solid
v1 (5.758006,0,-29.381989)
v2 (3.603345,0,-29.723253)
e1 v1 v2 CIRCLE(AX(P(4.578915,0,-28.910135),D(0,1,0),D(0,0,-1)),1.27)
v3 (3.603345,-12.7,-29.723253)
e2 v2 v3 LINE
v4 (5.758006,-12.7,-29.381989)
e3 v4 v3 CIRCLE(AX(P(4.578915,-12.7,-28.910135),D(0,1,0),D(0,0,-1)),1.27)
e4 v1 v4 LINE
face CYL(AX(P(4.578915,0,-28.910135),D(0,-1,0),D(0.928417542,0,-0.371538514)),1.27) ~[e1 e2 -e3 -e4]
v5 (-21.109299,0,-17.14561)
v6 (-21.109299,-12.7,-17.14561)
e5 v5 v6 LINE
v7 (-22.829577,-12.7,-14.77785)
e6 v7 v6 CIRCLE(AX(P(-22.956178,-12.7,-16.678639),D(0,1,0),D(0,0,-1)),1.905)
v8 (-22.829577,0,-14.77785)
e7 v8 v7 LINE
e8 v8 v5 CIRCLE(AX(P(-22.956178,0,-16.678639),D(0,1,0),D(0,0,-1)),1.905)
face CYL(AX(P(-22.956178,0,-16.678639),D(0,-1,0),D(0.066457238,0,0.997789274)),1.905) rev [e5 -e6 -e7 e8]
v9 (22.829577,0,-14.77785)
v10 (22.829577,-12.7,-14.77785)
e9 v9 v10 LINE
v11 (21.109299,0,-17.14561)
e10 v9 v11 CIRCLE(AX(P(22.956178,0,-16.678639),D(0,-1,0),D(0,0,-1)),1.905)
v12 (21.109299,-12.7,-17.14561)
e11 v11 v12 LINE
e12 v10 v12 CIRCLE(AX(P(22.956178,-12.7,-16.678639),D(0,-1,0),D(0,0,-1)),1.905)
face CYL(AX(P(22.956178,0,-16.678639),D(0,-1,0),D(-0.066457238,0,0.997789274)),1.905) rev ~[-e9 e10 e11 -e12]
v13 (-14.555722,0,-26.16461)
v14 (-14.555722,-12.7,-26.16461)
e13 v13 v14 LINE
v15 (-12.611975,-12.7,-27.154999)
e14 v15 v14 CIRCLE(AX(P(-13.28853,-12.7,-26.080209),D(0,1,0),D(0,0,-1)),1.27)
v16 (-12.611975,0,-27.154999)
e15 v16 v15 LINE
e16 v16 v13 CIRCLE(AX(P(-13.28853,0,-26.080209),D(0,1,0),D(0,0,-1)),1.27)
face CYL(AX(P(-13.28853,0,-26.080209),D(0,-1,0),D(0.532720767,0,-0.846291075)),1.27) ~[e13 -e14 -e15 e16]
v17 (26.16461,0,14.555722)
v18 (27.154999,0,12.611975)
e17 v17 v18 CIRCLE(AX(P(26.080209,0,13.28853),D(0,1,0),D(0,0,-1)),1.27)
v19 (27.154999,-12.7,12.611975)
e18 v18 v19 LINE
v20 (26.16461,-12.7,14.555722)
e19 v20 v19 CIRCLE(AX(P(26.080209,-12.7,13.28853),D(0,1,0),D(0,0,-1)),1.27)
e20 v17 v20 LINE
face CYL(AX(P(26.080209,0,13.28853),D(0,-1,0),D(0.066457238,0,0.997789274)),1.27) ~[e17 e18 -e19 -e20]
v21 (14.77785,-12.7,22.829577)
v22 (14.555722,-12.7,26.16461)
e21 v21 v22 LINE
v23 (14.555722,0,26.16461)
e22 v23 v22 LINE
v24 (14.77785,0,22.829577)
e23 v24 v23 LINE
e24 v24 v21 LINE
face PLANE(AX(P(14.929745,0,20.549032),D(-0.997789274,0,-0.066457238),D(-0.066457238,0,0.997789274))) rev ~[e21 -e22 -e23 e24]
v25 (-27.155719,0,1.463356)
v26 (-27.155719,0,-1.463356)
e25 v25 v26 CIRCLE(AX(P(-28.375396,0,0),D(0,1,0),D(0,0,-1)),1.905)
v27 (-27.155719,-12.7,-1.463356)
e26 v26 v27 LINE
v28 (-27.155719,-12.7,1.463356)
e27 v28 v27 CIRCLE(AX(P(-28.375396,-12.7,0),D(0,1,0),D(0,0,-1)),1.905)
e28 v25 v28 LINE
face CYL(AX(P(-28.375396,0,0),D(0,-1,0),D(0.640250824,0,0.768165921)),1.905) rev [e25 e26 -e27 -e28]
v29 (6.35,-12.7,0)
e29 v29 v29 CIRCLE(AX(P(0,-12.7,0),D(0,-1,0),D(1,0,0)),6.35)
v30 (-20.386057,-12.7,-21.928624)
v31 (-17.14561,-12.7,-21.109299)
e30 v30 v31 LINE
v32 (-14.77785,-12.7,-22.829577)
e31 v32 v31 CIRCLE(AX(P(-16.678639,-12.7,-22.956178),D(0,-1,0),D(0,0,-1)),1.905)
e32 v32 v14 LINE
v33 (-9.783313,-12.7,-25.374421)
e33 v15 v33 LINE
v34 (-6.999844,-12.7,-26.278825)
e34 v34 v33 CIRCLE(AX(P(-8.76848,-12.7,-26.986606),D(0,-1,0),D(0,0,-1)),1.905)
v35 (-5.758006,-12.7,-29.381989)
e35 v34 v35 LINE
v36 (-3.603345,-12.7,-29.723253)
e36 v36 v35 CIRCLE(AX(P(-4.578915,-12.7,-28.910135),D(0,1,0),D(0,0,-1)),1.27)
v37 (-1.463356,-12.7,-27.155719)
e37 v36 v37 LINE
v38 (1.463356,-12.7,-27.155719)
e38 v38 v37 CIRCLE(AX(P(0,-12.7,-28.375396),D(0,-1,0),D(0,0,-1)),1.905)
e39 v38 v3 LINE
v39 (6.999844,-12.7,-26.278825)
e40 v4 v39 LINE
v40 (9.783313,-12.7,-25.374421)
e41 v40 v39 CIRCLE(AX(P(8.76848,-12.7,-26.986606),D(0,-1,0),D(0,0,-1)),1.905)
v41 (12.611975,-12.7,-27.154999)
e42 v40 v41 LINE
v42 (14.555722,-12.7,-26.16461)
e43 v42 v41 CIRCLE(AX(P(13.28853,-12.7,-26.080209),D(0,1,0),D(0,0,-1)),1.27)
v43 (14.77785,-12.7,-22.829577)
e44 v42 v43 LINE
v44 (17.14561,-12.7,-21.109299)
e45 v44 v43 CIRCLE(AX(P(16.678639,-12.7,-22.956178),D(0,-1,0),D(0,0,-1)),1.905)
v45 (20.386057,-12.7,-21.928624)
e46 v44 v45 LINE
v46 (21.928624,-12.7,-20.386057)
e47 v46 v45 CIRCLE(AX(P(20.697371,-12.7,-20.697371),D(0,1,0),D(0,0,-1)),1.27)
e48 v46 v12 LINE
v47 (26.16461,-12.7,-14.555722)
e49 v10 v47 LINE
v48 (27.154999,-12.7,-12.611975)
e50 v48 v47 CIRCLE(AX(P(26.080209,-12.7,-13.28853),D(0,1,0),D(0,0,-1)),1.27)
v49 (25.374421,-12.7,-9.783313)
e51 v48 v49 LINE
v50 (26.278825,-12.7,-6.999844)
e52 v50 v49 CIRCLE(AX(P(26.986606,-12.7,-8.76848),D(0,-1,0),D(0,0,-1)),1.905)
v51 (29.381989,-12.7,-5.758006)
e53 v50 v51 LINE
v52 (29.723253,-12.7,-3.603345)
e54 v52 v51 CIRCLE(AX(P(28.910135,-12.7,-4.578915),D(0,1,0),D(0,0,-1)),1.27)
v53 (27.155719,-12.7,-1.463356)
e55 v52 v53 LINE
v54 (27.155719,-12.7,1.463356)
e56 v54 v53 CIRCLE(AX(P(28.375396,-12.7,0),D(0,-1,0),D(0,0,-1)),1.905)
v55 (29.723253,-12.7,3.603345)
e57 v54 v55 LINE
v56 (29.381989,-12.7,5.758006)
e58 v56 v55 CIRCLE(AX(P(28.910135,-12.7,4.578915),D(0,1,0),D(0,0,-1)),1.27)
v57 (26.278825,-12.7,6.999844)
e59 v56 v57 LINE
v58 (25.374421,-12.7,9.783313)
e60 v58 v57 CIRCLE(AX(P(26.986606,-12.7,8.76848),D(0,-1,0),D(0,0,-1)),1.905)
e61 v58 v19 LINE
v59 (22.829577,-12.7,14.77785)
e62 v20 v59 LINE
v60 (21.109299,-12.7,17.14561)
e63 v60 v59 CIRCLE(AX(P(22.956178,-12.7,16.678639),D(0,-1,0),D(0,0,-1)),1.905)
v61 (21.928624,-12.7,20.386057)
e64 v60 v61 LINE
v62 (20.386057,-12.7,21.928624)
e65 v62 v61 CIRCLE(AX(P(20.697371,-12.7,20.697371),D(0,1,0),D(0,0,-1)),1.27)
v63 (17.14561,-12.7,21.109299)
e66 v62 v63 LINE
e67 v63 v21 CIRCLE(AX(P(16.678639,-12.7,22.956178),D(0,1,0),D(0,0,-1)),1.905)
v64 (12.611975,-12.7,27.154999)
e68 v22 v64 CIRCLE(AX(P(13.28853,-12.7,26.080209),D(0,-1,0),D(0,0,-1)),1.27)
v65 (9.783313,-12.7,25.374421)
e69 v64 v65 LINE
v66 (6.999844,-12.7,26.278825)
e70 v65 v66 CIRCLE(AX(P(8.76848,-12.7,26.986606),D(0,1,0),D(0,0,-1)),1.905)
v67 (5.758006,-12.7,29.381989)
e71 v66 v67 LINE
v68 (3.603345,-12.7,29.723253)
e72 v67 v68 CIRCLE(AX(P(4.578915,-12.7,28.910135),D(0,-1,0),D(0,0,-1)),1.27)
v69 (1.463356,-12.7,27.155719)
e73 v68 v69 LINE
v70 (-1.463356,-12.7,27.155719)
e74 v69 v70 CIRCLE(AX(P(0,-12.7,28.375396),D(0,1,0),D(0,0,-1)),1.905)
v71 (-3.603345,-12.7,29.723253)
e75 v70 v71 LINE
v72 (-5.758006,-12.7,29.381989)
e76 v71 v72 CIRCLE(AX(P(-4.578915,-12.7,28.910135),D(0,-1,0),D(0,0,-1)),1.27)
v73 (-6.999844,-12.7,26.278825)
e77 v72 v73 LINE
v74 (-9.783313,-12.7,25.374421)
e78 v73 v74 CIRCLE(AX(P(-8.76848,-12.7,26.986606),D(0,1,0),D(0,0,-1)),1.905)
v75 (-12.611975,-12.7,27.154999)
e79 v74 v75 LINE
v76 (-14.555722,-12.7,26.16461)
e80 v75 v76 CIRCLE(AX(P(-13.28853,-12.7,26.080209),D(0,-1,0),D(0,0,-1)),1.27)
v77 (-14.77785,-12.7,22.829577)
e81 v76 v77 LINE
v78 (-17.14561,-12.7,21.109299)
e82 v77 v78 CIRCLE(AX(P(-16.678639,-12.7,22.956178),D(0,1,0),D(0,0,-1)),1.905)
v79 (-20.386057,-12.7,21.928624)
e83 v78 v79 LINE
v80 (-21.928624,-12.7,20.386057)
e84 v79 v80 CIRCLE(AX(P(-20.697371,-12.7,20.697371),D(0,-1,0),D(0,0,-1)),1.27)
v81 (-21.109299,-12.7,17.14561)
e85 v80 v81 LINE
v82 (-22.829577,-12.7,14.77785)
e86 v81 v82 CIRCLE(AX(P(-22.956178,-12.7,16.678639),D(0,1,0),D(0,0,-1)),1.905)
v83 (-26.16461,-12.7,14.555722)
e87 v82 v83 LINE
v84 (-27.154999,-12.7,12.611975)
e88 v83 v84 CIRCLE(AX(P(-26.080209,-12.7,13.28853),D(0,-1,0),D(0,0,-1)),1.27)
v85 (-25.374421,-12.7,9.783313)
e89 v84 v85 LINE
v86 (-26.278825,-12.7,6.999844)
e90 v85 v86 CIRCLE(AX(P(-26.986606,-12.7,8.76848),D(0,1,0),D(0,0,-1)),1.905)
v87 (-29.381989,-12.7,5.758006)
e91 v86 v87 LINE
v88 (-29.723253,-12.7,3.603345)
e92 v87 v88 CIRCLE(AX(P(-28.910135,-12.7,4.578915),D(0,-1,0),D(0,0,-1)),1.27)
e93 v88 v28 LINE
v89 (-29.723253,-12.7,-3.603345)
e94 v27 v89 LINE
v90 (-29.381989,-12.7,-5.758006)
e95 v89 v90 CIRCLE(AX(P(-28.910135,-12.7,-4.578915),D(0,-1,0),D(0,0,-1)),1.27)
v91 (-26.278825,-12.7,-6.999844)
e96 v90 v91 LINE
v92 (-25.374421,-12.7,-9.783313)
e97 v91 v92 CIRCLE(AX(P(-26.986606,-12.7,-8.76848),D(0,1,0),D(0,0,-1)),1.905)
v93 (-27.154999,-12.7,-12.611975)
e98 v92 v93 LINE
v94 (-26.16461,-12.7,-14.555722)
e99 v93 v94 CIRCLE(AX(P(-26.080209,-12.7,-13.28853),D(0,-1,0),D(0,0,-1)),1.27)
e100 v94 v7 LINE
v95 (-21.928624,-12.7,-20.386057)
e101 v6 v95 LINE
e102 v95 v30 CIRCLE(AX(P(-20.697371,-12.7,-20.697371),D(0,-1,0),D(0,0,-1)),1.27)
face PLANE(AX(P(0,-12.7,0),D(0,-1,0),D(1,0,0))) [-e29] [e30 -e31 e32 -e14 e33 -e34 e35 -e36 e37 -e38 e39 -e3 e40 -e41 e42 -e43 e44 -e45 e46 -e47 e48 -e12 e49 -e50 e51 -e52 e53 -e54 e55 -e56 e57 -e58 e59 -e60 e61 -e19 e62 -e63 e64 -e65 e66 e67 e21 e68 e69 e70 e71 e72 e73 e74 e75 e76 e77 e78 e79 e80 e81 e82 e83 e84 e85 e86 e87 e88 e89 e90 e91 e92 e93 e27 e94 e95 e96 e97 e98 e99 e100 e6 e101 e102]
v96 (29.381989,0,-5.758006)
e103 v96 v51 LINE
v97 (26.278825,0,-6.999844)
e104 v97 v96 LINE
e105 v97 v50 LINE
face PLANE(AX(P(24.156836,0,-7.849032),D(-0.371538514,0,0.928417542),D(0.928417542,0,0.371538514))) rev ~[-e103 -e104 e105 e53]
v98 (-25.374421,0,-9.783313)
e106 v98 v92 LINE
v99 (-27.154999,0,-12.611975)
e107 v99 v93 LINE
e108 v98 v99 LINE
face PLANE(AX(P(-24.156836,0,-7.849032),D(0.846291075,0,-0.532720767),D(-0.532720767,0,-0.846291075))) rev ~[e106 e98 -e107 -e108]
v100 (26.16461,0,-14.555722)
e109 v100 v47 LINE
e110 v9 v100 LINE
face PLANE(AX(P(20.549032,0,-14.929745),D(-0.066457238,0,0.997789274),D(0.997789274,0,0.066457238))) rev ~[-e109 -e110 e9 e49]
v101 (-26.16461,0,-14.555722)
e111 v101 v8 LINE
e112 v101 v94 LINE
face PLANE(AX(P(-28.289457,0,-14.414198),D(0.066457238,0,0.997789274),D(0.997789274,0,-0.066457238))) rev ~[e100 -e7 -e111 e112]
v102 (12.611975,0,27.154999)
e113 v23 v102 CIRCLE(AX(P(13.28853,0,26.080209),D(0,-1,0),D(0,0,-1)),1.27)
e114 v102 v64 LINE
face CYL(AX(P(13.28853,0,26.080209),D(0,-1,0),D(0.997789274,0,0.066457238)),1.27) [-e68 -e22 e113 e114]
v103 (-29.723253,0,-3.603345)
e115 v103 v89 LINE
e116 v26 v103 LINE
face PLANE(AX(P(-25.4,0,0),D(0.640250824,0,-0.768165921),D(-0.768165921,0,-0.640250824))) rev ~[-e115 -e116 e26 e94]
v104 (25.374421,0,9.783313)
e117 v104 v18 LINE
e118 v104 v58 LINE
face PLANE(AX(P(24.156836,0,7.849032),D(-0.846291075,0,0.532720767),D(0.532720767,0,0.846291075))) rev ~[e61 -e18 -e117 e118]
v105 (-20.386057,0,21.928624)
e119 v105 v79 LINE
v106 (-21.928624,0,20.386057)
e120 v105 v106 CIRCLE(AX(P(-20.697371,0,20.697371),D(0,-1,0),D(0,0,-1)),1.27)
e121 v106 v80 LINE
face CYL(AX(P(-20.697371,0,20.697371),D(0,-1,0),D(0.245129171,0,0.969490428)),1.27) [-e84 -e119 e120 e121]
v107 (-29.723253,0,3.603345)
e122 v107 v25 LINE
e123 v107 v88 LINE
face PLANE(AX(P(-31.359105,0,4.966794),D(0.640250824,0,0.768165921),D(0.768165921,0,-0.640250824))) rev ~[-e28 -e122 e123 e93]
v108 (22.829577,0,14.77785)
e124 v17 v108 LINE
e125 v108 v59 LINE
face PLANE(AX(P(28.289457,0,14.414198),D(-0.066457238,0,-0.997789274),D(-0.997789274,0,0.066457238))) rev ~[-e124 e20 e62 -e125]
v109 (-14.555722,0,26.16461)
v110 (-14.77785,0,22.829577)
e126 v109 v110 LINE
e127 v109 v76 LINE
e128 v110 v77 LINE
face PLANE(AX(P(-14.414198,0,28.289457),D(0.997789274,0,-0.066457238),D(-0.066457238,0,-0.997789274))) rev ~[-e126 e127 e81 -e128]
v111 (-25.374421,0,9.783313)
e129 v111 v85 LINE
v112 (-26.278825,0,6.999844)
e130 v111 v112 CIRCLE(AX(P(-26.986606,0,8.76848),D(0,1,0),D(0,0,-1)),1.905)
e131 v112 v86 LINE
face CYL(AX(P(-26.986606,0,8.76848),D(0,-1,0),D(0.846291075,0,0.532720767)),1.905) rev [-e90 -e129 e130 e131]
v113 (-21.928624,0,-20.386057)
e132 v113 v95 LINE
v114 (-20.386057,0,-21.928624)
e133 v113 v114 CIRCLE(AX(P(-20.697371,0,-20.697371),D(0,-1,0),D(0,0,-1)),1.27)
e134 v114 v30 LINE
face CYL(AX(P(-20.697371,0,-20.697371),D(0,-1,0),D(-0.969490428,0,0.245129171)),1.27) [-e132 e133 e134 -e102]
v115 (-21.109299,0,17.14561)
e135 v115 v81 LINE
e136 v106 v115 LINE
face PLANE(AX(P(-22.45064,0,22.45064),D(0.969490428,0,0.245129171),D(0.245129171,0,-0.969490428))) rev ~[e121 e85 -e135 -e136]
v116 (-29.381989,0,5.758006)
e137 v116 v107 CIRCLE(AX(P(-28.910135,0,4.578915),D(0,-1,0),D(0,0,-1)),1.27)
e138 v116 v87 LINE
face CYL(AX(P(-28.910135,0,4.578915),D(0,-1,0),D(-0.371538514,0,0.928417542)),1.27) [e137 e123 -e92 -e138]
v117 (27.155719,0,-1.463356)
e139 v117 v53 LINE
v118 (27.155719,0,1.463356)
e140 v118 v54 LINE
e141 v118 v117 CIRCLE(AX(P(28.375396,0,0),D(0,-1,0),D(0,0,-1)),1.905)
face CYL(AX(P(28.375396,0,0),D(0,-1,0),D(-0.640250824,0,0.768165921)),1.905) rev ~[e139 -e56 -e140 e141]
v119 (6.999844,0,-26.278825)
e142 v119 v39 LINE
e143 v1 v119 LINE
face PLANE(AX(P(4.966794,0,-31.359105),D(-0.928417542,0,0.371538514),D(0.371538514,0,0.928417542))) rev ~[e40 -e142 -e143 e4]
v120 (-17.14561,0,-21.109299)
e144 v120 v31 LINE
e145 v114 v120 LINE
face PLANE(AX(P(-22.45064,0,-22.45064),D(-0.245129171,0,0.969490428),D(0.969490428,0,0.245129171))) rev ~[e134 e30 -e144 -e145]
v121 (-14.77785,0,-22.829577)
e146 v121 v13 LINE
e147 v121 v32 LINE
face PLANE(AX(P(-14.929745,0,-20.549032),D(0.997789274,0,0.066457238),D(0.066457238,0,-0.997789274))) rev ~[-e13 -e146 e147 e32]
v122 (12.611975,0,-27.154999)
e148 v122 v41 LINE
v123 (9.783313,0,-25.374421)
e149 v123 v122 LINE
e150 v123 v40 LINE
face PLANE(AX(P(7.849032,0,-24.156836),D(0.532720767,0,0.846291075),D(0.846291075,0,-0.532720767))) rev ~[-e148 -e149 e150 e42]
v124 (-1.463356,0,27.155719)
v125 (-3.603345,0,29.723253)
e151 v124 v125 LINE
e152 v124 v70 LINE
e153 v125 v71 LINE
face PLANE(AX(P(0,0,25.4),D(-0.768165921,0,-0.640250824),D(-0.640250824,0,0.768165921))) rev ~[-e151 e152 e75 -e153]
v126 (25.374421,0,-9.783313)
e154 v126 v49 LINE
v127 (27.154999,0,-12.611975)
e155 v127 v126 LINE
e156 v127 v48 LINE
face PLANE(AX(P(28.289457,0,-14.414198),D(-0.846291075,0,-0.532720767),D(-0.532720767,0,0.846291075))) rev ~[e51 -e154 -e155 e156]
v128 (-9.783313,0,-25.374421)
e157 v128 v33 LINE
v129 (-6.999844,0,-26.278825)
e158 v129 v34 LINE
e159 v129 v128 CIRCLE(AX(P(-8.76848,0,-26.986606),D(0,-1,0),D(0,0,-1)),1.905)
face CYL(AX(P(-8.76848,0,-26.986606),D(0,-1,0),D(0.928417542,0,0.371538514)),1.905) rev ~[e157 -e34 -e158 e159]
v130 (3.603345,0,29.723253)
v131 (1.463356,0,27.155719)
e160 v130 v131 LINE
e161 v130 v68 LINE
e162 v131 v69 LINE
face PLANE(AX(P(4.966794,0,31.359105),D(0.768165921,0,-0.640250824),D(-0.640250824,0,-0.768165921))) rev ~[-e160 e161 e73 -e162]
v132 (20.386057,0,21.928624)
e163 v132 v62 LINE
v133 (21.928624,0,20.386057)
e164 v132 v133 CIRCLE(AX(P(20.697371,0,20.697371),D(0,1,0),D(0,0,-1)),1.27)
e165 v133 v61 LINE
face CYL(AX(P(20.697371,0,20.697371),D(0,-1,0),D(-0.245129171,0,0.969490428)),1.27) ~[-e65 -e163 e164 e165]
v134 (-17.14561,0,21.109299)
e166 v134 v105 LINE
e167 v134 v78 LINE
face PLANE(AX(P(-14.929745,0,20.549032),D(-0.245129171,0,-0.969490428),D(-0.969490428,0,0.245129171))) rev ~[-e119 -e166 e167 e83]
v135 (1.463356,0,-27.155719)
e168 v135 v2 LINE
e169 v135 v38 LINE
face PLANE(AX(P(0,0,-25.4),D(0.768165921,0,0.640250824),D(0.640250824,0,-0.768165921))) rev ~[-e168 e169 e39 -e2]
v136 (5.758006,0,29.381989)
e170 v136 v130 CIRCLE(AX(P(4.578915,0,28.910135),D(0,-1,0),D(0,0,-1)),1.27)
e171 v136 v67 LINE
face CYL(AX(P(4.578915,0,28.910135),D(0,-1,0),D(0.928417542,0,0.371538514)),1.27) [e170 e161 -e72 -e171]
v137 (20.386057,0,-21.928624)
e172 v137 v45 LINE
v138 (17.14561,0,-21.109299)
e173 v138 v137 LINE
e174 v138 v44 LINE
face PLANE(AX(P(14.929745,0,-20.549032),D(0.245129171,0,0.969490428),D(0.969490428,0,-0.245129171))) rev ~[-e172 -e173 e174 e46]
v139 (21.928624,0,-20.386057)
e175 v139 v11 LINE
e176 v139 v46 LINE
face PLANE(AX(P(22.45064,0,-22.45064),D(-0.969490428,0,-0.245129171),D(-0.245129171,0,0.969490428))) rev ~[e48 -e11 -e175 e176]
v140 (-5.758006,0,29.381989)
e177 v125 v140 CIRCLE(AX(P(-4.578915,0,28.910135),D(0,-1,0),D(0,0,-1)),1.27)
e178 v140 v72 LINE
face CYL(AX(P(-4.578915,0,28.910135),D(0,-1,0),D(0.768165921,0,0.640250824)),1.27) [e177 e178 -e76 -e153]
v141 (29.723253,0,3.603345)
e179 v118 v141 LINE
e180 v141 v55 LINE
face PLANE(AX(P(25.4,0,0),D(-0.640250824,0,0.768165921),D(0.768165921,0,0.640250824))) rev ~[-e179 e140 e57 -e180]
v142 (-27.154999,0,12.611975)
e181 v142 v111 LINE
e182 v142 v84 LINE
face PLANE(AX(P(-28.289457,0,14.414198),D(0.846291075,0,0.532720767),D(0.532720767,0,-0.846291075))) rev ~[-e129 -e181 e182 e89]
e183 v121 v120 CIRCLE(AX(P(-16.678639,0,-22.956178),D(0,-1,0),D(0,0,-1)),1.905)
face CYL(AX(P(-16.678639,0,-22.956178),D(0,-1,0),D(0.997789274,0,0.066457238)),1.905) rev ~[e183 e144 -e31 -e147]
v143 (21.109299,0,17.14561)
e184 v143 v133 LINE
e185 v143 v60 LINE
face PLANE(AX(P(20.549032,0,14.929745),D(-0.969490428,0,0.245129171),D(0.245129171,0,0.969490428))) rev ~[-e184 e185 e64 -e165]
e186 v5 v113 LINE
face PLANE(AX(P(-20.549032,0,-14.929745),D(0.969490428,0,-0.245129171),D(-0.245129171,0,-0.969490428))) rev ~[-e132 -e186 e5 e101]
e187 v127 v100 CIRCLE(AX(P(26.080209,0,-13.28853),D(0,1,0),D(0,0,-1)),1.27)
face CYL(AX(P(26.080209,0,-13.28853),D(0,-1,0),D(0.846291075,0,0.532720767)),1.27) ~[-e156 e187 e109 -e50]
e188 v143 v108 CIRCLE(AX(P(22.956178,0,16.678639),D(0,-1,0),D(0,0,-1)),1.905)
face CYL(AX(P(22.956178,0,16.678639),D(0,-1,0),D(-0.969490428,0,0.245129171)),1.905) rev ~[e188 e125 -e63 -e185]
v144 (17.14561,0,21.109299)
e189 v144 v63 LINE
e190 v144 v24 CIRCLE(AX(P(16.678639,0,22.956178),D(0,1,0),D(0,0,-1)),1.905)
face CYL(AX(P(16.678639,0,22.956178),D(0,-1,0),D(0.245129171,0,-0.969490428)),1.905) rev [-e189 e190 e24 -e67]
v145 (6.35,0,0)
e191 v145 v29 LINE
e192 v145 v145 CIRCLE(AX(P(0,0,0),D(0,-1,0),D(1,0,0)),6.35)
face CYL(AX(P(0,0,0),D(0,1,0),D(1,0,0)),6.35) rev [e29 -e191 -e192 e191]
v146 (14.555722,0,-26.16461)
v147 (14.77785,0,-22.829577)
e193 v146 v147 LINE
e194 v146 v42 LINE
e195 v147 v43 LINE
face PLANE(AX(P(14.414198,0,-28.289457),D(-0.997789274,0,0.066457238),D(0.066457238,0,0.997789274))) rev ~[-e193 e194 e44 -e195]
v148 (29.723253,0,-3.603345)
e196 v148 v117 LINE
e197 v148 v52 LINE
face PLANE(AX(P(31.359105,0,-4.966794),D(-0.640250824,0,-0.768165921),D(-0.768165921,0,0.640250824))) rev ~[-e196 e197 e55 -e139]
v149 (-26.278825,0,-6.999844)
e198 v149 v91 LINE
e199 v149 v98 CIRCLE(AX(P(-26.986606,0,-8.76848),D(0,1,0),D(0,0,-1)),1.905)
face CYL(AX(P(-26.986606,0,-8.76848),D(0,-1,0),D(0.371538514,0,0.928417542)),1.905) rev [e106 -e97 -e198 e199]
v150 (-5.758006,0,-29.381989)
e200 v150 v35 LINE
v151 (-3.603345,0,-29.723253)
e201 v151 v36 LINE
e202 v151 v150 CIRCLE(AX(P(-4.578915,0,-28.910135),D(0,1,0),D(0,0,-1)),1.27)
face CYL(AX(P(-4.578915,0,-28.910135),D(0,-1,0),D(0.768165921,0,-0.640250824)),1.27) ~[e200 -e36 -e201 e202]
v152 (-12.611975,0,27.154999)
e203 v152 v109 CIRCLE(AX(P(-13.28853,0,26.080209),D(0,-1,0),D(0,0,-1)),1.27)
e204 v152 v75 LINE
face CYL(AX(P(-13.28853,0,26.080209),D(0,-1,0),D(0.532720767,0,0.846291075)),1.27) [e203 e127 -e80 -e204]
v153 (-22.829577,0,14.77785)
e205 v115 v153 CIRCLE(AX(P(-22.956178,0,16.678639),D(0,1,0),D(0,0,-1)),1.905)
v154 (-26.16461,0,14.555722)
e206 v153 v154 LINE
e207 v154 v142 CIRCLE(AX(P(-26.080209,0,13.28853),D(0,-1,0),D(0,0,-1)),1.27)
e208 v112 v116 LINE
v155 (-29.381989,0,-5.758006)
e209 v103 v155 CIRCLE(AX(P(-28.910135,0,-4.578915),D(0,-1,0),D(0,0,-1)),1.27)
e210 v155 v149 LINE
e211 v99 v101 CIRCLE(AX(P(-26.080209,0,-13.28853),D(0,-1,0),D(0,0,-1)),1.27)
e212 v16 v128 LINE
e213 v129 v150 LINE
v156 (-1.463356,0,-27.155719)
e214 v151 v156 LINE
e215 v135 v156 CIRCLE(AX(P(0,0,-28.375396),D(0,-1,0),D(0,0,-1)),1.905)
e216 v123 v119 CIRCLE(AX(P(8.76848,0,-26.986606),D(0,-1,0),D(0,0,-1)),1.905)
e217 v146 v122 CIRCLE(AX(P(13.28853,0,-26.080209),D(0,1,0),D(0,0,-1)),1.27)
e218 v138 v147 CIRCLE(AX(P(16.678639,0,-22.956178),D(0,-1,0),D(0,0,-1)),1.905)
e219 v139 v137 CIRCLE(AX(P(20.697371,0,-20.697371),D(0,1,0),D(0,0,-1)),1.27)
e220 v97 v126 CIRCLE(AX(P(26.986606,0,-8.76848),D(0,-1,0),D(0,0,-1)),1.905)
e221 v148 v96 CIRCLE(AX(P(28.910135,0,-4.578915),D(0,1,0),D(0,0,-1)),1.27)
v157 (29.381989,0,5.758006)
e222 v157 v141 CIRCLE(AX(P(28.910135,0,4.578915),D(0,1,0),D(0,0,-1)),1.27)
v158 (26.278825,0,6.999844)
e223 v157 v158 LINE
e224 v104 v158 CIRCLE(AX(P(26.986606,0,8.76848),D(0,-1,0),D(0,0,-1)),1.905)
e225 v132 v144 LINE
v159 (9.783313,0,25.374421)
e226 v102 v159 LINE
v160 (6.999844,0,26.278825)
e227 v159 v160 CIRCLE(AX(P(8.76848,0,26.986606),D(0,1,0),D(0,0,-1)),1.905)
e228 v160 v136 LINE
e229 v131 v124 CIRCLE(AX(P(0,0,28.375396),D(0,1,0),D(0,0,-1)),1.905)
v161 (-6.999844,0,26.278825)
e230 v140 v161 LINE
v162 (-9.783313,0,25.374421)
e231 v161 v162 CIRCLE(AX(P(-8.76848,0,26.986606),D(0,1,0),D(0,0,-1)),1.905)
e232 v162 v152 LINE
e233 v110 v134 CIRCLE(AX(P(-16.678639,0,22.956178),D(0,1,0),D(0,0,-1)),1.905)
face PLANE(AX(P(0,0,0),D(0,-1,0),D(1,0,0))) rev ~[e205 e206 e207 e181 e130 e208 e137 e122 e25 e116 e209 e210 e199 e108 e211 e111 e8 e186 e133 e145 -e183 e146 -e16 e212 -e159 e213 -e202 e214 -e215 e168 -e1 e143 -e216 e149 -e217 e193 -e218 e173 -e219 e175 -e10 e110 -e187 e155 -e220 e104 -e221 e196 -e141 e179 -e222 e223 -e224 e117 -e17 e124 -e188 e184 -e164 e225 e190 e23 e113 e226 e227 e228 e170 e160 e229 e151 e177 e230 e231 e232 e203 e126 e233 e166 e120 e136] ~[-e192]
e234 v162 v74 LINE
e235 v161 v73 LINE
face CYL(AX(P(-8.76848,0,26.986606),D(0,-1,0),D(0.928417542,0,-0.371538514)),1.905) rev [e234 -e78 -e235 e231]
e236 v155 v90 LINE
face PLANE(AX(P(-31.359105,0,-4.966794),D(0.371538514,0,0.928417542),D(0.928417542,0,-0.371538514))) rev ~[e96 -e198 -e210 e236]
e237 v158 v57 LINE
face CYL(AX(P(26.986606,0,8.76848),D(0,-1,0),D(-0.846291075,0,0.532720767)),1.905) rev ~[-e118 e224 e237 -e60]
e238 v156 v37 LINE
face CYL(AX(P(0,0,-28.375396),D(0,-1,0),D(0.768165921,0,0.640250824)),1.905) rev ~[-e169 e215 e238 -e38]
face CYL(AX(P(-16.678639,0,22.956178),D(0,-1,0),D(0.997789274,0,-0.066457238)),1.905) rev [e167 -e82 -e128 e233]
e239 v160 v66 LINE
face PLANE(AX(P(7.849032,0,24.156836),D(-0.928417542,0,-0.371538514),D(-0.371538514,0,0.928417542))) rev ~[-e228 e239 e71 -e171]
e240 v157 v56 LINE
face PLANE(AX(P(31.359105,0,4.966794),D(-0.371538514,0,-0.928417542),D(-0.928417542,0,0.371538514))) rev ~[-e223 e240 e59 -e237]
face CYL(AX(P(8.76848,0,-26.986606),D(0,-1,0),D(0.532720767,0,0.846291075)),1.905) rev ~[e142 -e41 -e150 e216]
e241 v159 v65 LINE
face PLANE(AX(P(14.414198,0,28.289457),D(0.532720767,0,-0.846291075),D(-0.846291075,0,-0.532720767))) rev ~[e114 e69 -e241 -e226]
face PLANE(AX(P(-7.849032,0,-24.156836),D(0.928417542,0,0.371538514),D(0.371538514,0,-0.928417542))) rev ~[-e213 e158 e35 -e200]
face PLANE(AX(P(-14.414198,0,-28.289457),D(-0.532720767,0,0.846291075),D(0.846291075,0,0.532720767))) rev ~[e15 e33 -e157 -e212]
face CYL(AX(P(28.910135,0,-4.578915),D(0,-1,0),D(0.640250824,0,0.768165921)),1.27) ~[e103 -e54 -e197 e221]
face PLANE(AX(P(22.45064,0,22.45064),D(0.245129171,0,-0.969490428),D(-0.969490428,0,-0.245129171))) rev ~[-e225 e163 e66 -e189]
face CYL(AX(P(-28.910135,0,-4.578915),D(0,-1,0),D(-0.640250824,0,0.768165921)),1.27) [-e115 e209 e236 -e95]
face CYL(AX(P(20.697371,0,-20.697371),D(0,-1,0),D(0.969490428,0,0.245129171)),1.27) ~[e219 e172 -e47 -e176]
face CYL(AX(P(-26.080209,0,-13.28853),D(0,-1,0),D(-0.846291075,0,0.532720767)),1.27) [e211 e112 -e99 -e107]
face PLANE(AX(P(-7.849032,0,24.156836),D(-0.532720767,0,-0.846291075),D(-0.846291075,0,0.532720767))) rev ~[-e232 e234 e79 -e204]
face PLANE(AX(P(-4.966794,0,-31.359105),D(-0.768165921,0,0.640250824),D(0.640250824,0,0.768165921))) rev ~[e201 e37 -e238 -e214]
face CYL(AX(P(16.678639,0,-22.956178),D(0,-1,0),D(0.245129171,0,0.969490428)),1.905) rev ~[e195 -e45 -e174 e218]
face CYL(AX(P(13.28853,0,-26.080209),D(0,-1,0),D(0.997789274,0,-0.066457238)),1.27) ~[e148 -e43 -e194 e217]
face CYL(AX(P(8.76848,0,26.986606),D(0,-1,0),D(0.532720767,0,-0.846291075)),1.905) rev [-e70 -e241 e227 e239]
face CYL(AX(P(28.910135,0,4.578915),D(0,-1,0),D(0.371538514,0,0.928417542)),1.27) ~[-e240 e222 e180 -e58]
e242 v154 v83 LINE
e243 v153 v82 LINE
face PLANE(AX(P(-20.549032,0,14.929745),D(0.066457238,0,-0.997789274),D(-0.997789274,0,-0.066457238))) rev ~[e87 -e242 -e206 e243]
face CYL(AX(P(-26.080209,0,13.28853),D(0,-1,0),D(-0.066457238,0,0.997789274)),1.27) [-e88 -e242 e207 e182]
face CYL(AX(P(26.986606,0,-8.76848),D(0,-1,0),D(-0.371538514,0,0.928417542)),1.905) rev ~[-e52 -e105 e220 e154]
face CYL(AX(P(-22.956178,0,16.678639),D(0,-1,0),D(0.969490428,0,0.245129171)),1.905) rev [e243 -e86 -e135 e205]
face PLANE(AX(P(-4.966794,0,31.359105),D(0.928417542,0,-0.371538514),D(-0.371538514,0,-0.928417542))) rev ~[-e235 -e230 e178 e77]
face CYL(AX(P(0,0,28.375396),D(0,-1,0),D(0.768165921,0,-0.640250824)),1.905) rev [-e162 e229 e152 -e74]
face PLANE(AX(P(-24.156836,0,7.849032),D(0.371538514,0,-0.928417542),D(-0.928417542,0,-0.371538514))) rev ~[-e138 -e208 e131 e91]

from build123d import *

# Parameters (mm, degrees)
F0_R     = 6.35
F1_DEPTH = 12.7
F2_R     = 1.905
F3_R     = 1.27


with BuildPart() as f1:
    # F0 (on Front) → F1 (new body)
    with BuildSketch(Plane.XZ):
        Polygon((22.45064, 22.45064), (14.929745, 20.549032), (14.414198, 28.289457), (7.849032, 24.156836), (4.966794, 31.359105), (0, 25.4), (-4.966794, 31.359105), (-7.849032, 24.156836), (-14.414198, 28.289457), (-14.929745, 20.549032), (-22.45064, 22.45064), (-20.549032, 14.929745), (-28.289457, 14.414198), (-24.156836, 7.849032), (-31.359105, 4.966794), (-25.4, 0), (-31.359105, -4.966794), (-24.156836, -7.849032), (-28.289457, -14.414198), (-20.549032, -14.929745), (-22.45064, -22.45064), (-14.929745, -20.549032), (-14.414198, -28.289457), (-7.849032, -24.156836), (-4.966794, -31.359105), (0, -25.4), (4.966794, -31.359105), (7.849032, -24.156836), (14.414198, -28.289457), (14.929745, -20.549032), (22.45064, -22.45064), (20.549032, -14.929745), (28.289457, -14.414198), (24.156836, -7.849032), (31.359105, -4.966794), (25.4, 0), (31.359105, 4.966794), (24.156836, 7.849032), (28.289457, 14.414198), (20.549032, 14.929745), align=None)
        Circle(F0_R, mode=Mode.SUBTRACT)
    extrude(amount=F1_DEPTH)

    # F2
    f2_edges = [f1.edges().sort_by_distance(p)[0] for p in [
        (-20.549032, -6.35, 14.929745),
        (-14.929745, -6.35, 20.549032),
        (-24.156836, -6.35, 7.849032),
        (-25.4, -6.35, 0),
        (-24.156836, -6.35, -7.849032),
        (-20.549032, -6.35, -14.929745),
        (-14.929745, -6.35, -20.549032),
        (-7.849032, -6.35, -24.156836),
        (0, -6.35, -25.4),
        (7.849032, -6.35, -24.156836),
        (14.929745, -6.35, -20.549032),
        (20.549032, -6.35, -14.929745),
        (24.156836, -6.35, -7.849032),
        (25.4, -6.35, 0),
        (24.156836, -6.35, 7.849032),
        (20.549032, -6.35, 14.929745),
        (14.929745, -6.35, 20.549032),
        (7.849032, -6.35, 24.156836),
        (0, -6.35, 25.4),
        (-7.849032, -6.35, 24.156836),
    ]]
    fillet(f2_edges, radius=F2_R)

    # F3
    f3_edges = [f1.edges().sort_by_distance(p)[0] for p in [
        (28.289457, -6.35, -14.414198),
        (22.45064, -6.35, -22.45064),
        (14.414198, -6.35, -28.289457),
        (4.966794, -6.35, -31.359105),
        (-14.414198, -6.35, -28.289457),
        (-4.966794, -6.35, -31.359105),
        (-22.45064, -6.35, -22.45064),
        (-28.289457, -6.35, -14.414198),
        (-31.359105, -6.35, -4.966794),
        (-31.359105, -6.35, 4.966794),
        (-14.414198, -6.35, 28.289457),
        (-4.966794, -6.35, 31.359105),
        (-28.289457, -6.35, 14.414198),
        (-22.45064, -6.35, 22.45064),
        (4.966794, -6.35, 31.359105),
        (14.414198, -6.35, 28.289457),
        (22.45064, -6.35, 22.45064),
        (28.289457, -6.35, 14.414198),
        (31.359105, -6.35, 4.966794),
        (31.359105, -6.35, -4.966794),
    ]]
    fillet(f3_edges, radius=F3_R)


solid = f1.part
